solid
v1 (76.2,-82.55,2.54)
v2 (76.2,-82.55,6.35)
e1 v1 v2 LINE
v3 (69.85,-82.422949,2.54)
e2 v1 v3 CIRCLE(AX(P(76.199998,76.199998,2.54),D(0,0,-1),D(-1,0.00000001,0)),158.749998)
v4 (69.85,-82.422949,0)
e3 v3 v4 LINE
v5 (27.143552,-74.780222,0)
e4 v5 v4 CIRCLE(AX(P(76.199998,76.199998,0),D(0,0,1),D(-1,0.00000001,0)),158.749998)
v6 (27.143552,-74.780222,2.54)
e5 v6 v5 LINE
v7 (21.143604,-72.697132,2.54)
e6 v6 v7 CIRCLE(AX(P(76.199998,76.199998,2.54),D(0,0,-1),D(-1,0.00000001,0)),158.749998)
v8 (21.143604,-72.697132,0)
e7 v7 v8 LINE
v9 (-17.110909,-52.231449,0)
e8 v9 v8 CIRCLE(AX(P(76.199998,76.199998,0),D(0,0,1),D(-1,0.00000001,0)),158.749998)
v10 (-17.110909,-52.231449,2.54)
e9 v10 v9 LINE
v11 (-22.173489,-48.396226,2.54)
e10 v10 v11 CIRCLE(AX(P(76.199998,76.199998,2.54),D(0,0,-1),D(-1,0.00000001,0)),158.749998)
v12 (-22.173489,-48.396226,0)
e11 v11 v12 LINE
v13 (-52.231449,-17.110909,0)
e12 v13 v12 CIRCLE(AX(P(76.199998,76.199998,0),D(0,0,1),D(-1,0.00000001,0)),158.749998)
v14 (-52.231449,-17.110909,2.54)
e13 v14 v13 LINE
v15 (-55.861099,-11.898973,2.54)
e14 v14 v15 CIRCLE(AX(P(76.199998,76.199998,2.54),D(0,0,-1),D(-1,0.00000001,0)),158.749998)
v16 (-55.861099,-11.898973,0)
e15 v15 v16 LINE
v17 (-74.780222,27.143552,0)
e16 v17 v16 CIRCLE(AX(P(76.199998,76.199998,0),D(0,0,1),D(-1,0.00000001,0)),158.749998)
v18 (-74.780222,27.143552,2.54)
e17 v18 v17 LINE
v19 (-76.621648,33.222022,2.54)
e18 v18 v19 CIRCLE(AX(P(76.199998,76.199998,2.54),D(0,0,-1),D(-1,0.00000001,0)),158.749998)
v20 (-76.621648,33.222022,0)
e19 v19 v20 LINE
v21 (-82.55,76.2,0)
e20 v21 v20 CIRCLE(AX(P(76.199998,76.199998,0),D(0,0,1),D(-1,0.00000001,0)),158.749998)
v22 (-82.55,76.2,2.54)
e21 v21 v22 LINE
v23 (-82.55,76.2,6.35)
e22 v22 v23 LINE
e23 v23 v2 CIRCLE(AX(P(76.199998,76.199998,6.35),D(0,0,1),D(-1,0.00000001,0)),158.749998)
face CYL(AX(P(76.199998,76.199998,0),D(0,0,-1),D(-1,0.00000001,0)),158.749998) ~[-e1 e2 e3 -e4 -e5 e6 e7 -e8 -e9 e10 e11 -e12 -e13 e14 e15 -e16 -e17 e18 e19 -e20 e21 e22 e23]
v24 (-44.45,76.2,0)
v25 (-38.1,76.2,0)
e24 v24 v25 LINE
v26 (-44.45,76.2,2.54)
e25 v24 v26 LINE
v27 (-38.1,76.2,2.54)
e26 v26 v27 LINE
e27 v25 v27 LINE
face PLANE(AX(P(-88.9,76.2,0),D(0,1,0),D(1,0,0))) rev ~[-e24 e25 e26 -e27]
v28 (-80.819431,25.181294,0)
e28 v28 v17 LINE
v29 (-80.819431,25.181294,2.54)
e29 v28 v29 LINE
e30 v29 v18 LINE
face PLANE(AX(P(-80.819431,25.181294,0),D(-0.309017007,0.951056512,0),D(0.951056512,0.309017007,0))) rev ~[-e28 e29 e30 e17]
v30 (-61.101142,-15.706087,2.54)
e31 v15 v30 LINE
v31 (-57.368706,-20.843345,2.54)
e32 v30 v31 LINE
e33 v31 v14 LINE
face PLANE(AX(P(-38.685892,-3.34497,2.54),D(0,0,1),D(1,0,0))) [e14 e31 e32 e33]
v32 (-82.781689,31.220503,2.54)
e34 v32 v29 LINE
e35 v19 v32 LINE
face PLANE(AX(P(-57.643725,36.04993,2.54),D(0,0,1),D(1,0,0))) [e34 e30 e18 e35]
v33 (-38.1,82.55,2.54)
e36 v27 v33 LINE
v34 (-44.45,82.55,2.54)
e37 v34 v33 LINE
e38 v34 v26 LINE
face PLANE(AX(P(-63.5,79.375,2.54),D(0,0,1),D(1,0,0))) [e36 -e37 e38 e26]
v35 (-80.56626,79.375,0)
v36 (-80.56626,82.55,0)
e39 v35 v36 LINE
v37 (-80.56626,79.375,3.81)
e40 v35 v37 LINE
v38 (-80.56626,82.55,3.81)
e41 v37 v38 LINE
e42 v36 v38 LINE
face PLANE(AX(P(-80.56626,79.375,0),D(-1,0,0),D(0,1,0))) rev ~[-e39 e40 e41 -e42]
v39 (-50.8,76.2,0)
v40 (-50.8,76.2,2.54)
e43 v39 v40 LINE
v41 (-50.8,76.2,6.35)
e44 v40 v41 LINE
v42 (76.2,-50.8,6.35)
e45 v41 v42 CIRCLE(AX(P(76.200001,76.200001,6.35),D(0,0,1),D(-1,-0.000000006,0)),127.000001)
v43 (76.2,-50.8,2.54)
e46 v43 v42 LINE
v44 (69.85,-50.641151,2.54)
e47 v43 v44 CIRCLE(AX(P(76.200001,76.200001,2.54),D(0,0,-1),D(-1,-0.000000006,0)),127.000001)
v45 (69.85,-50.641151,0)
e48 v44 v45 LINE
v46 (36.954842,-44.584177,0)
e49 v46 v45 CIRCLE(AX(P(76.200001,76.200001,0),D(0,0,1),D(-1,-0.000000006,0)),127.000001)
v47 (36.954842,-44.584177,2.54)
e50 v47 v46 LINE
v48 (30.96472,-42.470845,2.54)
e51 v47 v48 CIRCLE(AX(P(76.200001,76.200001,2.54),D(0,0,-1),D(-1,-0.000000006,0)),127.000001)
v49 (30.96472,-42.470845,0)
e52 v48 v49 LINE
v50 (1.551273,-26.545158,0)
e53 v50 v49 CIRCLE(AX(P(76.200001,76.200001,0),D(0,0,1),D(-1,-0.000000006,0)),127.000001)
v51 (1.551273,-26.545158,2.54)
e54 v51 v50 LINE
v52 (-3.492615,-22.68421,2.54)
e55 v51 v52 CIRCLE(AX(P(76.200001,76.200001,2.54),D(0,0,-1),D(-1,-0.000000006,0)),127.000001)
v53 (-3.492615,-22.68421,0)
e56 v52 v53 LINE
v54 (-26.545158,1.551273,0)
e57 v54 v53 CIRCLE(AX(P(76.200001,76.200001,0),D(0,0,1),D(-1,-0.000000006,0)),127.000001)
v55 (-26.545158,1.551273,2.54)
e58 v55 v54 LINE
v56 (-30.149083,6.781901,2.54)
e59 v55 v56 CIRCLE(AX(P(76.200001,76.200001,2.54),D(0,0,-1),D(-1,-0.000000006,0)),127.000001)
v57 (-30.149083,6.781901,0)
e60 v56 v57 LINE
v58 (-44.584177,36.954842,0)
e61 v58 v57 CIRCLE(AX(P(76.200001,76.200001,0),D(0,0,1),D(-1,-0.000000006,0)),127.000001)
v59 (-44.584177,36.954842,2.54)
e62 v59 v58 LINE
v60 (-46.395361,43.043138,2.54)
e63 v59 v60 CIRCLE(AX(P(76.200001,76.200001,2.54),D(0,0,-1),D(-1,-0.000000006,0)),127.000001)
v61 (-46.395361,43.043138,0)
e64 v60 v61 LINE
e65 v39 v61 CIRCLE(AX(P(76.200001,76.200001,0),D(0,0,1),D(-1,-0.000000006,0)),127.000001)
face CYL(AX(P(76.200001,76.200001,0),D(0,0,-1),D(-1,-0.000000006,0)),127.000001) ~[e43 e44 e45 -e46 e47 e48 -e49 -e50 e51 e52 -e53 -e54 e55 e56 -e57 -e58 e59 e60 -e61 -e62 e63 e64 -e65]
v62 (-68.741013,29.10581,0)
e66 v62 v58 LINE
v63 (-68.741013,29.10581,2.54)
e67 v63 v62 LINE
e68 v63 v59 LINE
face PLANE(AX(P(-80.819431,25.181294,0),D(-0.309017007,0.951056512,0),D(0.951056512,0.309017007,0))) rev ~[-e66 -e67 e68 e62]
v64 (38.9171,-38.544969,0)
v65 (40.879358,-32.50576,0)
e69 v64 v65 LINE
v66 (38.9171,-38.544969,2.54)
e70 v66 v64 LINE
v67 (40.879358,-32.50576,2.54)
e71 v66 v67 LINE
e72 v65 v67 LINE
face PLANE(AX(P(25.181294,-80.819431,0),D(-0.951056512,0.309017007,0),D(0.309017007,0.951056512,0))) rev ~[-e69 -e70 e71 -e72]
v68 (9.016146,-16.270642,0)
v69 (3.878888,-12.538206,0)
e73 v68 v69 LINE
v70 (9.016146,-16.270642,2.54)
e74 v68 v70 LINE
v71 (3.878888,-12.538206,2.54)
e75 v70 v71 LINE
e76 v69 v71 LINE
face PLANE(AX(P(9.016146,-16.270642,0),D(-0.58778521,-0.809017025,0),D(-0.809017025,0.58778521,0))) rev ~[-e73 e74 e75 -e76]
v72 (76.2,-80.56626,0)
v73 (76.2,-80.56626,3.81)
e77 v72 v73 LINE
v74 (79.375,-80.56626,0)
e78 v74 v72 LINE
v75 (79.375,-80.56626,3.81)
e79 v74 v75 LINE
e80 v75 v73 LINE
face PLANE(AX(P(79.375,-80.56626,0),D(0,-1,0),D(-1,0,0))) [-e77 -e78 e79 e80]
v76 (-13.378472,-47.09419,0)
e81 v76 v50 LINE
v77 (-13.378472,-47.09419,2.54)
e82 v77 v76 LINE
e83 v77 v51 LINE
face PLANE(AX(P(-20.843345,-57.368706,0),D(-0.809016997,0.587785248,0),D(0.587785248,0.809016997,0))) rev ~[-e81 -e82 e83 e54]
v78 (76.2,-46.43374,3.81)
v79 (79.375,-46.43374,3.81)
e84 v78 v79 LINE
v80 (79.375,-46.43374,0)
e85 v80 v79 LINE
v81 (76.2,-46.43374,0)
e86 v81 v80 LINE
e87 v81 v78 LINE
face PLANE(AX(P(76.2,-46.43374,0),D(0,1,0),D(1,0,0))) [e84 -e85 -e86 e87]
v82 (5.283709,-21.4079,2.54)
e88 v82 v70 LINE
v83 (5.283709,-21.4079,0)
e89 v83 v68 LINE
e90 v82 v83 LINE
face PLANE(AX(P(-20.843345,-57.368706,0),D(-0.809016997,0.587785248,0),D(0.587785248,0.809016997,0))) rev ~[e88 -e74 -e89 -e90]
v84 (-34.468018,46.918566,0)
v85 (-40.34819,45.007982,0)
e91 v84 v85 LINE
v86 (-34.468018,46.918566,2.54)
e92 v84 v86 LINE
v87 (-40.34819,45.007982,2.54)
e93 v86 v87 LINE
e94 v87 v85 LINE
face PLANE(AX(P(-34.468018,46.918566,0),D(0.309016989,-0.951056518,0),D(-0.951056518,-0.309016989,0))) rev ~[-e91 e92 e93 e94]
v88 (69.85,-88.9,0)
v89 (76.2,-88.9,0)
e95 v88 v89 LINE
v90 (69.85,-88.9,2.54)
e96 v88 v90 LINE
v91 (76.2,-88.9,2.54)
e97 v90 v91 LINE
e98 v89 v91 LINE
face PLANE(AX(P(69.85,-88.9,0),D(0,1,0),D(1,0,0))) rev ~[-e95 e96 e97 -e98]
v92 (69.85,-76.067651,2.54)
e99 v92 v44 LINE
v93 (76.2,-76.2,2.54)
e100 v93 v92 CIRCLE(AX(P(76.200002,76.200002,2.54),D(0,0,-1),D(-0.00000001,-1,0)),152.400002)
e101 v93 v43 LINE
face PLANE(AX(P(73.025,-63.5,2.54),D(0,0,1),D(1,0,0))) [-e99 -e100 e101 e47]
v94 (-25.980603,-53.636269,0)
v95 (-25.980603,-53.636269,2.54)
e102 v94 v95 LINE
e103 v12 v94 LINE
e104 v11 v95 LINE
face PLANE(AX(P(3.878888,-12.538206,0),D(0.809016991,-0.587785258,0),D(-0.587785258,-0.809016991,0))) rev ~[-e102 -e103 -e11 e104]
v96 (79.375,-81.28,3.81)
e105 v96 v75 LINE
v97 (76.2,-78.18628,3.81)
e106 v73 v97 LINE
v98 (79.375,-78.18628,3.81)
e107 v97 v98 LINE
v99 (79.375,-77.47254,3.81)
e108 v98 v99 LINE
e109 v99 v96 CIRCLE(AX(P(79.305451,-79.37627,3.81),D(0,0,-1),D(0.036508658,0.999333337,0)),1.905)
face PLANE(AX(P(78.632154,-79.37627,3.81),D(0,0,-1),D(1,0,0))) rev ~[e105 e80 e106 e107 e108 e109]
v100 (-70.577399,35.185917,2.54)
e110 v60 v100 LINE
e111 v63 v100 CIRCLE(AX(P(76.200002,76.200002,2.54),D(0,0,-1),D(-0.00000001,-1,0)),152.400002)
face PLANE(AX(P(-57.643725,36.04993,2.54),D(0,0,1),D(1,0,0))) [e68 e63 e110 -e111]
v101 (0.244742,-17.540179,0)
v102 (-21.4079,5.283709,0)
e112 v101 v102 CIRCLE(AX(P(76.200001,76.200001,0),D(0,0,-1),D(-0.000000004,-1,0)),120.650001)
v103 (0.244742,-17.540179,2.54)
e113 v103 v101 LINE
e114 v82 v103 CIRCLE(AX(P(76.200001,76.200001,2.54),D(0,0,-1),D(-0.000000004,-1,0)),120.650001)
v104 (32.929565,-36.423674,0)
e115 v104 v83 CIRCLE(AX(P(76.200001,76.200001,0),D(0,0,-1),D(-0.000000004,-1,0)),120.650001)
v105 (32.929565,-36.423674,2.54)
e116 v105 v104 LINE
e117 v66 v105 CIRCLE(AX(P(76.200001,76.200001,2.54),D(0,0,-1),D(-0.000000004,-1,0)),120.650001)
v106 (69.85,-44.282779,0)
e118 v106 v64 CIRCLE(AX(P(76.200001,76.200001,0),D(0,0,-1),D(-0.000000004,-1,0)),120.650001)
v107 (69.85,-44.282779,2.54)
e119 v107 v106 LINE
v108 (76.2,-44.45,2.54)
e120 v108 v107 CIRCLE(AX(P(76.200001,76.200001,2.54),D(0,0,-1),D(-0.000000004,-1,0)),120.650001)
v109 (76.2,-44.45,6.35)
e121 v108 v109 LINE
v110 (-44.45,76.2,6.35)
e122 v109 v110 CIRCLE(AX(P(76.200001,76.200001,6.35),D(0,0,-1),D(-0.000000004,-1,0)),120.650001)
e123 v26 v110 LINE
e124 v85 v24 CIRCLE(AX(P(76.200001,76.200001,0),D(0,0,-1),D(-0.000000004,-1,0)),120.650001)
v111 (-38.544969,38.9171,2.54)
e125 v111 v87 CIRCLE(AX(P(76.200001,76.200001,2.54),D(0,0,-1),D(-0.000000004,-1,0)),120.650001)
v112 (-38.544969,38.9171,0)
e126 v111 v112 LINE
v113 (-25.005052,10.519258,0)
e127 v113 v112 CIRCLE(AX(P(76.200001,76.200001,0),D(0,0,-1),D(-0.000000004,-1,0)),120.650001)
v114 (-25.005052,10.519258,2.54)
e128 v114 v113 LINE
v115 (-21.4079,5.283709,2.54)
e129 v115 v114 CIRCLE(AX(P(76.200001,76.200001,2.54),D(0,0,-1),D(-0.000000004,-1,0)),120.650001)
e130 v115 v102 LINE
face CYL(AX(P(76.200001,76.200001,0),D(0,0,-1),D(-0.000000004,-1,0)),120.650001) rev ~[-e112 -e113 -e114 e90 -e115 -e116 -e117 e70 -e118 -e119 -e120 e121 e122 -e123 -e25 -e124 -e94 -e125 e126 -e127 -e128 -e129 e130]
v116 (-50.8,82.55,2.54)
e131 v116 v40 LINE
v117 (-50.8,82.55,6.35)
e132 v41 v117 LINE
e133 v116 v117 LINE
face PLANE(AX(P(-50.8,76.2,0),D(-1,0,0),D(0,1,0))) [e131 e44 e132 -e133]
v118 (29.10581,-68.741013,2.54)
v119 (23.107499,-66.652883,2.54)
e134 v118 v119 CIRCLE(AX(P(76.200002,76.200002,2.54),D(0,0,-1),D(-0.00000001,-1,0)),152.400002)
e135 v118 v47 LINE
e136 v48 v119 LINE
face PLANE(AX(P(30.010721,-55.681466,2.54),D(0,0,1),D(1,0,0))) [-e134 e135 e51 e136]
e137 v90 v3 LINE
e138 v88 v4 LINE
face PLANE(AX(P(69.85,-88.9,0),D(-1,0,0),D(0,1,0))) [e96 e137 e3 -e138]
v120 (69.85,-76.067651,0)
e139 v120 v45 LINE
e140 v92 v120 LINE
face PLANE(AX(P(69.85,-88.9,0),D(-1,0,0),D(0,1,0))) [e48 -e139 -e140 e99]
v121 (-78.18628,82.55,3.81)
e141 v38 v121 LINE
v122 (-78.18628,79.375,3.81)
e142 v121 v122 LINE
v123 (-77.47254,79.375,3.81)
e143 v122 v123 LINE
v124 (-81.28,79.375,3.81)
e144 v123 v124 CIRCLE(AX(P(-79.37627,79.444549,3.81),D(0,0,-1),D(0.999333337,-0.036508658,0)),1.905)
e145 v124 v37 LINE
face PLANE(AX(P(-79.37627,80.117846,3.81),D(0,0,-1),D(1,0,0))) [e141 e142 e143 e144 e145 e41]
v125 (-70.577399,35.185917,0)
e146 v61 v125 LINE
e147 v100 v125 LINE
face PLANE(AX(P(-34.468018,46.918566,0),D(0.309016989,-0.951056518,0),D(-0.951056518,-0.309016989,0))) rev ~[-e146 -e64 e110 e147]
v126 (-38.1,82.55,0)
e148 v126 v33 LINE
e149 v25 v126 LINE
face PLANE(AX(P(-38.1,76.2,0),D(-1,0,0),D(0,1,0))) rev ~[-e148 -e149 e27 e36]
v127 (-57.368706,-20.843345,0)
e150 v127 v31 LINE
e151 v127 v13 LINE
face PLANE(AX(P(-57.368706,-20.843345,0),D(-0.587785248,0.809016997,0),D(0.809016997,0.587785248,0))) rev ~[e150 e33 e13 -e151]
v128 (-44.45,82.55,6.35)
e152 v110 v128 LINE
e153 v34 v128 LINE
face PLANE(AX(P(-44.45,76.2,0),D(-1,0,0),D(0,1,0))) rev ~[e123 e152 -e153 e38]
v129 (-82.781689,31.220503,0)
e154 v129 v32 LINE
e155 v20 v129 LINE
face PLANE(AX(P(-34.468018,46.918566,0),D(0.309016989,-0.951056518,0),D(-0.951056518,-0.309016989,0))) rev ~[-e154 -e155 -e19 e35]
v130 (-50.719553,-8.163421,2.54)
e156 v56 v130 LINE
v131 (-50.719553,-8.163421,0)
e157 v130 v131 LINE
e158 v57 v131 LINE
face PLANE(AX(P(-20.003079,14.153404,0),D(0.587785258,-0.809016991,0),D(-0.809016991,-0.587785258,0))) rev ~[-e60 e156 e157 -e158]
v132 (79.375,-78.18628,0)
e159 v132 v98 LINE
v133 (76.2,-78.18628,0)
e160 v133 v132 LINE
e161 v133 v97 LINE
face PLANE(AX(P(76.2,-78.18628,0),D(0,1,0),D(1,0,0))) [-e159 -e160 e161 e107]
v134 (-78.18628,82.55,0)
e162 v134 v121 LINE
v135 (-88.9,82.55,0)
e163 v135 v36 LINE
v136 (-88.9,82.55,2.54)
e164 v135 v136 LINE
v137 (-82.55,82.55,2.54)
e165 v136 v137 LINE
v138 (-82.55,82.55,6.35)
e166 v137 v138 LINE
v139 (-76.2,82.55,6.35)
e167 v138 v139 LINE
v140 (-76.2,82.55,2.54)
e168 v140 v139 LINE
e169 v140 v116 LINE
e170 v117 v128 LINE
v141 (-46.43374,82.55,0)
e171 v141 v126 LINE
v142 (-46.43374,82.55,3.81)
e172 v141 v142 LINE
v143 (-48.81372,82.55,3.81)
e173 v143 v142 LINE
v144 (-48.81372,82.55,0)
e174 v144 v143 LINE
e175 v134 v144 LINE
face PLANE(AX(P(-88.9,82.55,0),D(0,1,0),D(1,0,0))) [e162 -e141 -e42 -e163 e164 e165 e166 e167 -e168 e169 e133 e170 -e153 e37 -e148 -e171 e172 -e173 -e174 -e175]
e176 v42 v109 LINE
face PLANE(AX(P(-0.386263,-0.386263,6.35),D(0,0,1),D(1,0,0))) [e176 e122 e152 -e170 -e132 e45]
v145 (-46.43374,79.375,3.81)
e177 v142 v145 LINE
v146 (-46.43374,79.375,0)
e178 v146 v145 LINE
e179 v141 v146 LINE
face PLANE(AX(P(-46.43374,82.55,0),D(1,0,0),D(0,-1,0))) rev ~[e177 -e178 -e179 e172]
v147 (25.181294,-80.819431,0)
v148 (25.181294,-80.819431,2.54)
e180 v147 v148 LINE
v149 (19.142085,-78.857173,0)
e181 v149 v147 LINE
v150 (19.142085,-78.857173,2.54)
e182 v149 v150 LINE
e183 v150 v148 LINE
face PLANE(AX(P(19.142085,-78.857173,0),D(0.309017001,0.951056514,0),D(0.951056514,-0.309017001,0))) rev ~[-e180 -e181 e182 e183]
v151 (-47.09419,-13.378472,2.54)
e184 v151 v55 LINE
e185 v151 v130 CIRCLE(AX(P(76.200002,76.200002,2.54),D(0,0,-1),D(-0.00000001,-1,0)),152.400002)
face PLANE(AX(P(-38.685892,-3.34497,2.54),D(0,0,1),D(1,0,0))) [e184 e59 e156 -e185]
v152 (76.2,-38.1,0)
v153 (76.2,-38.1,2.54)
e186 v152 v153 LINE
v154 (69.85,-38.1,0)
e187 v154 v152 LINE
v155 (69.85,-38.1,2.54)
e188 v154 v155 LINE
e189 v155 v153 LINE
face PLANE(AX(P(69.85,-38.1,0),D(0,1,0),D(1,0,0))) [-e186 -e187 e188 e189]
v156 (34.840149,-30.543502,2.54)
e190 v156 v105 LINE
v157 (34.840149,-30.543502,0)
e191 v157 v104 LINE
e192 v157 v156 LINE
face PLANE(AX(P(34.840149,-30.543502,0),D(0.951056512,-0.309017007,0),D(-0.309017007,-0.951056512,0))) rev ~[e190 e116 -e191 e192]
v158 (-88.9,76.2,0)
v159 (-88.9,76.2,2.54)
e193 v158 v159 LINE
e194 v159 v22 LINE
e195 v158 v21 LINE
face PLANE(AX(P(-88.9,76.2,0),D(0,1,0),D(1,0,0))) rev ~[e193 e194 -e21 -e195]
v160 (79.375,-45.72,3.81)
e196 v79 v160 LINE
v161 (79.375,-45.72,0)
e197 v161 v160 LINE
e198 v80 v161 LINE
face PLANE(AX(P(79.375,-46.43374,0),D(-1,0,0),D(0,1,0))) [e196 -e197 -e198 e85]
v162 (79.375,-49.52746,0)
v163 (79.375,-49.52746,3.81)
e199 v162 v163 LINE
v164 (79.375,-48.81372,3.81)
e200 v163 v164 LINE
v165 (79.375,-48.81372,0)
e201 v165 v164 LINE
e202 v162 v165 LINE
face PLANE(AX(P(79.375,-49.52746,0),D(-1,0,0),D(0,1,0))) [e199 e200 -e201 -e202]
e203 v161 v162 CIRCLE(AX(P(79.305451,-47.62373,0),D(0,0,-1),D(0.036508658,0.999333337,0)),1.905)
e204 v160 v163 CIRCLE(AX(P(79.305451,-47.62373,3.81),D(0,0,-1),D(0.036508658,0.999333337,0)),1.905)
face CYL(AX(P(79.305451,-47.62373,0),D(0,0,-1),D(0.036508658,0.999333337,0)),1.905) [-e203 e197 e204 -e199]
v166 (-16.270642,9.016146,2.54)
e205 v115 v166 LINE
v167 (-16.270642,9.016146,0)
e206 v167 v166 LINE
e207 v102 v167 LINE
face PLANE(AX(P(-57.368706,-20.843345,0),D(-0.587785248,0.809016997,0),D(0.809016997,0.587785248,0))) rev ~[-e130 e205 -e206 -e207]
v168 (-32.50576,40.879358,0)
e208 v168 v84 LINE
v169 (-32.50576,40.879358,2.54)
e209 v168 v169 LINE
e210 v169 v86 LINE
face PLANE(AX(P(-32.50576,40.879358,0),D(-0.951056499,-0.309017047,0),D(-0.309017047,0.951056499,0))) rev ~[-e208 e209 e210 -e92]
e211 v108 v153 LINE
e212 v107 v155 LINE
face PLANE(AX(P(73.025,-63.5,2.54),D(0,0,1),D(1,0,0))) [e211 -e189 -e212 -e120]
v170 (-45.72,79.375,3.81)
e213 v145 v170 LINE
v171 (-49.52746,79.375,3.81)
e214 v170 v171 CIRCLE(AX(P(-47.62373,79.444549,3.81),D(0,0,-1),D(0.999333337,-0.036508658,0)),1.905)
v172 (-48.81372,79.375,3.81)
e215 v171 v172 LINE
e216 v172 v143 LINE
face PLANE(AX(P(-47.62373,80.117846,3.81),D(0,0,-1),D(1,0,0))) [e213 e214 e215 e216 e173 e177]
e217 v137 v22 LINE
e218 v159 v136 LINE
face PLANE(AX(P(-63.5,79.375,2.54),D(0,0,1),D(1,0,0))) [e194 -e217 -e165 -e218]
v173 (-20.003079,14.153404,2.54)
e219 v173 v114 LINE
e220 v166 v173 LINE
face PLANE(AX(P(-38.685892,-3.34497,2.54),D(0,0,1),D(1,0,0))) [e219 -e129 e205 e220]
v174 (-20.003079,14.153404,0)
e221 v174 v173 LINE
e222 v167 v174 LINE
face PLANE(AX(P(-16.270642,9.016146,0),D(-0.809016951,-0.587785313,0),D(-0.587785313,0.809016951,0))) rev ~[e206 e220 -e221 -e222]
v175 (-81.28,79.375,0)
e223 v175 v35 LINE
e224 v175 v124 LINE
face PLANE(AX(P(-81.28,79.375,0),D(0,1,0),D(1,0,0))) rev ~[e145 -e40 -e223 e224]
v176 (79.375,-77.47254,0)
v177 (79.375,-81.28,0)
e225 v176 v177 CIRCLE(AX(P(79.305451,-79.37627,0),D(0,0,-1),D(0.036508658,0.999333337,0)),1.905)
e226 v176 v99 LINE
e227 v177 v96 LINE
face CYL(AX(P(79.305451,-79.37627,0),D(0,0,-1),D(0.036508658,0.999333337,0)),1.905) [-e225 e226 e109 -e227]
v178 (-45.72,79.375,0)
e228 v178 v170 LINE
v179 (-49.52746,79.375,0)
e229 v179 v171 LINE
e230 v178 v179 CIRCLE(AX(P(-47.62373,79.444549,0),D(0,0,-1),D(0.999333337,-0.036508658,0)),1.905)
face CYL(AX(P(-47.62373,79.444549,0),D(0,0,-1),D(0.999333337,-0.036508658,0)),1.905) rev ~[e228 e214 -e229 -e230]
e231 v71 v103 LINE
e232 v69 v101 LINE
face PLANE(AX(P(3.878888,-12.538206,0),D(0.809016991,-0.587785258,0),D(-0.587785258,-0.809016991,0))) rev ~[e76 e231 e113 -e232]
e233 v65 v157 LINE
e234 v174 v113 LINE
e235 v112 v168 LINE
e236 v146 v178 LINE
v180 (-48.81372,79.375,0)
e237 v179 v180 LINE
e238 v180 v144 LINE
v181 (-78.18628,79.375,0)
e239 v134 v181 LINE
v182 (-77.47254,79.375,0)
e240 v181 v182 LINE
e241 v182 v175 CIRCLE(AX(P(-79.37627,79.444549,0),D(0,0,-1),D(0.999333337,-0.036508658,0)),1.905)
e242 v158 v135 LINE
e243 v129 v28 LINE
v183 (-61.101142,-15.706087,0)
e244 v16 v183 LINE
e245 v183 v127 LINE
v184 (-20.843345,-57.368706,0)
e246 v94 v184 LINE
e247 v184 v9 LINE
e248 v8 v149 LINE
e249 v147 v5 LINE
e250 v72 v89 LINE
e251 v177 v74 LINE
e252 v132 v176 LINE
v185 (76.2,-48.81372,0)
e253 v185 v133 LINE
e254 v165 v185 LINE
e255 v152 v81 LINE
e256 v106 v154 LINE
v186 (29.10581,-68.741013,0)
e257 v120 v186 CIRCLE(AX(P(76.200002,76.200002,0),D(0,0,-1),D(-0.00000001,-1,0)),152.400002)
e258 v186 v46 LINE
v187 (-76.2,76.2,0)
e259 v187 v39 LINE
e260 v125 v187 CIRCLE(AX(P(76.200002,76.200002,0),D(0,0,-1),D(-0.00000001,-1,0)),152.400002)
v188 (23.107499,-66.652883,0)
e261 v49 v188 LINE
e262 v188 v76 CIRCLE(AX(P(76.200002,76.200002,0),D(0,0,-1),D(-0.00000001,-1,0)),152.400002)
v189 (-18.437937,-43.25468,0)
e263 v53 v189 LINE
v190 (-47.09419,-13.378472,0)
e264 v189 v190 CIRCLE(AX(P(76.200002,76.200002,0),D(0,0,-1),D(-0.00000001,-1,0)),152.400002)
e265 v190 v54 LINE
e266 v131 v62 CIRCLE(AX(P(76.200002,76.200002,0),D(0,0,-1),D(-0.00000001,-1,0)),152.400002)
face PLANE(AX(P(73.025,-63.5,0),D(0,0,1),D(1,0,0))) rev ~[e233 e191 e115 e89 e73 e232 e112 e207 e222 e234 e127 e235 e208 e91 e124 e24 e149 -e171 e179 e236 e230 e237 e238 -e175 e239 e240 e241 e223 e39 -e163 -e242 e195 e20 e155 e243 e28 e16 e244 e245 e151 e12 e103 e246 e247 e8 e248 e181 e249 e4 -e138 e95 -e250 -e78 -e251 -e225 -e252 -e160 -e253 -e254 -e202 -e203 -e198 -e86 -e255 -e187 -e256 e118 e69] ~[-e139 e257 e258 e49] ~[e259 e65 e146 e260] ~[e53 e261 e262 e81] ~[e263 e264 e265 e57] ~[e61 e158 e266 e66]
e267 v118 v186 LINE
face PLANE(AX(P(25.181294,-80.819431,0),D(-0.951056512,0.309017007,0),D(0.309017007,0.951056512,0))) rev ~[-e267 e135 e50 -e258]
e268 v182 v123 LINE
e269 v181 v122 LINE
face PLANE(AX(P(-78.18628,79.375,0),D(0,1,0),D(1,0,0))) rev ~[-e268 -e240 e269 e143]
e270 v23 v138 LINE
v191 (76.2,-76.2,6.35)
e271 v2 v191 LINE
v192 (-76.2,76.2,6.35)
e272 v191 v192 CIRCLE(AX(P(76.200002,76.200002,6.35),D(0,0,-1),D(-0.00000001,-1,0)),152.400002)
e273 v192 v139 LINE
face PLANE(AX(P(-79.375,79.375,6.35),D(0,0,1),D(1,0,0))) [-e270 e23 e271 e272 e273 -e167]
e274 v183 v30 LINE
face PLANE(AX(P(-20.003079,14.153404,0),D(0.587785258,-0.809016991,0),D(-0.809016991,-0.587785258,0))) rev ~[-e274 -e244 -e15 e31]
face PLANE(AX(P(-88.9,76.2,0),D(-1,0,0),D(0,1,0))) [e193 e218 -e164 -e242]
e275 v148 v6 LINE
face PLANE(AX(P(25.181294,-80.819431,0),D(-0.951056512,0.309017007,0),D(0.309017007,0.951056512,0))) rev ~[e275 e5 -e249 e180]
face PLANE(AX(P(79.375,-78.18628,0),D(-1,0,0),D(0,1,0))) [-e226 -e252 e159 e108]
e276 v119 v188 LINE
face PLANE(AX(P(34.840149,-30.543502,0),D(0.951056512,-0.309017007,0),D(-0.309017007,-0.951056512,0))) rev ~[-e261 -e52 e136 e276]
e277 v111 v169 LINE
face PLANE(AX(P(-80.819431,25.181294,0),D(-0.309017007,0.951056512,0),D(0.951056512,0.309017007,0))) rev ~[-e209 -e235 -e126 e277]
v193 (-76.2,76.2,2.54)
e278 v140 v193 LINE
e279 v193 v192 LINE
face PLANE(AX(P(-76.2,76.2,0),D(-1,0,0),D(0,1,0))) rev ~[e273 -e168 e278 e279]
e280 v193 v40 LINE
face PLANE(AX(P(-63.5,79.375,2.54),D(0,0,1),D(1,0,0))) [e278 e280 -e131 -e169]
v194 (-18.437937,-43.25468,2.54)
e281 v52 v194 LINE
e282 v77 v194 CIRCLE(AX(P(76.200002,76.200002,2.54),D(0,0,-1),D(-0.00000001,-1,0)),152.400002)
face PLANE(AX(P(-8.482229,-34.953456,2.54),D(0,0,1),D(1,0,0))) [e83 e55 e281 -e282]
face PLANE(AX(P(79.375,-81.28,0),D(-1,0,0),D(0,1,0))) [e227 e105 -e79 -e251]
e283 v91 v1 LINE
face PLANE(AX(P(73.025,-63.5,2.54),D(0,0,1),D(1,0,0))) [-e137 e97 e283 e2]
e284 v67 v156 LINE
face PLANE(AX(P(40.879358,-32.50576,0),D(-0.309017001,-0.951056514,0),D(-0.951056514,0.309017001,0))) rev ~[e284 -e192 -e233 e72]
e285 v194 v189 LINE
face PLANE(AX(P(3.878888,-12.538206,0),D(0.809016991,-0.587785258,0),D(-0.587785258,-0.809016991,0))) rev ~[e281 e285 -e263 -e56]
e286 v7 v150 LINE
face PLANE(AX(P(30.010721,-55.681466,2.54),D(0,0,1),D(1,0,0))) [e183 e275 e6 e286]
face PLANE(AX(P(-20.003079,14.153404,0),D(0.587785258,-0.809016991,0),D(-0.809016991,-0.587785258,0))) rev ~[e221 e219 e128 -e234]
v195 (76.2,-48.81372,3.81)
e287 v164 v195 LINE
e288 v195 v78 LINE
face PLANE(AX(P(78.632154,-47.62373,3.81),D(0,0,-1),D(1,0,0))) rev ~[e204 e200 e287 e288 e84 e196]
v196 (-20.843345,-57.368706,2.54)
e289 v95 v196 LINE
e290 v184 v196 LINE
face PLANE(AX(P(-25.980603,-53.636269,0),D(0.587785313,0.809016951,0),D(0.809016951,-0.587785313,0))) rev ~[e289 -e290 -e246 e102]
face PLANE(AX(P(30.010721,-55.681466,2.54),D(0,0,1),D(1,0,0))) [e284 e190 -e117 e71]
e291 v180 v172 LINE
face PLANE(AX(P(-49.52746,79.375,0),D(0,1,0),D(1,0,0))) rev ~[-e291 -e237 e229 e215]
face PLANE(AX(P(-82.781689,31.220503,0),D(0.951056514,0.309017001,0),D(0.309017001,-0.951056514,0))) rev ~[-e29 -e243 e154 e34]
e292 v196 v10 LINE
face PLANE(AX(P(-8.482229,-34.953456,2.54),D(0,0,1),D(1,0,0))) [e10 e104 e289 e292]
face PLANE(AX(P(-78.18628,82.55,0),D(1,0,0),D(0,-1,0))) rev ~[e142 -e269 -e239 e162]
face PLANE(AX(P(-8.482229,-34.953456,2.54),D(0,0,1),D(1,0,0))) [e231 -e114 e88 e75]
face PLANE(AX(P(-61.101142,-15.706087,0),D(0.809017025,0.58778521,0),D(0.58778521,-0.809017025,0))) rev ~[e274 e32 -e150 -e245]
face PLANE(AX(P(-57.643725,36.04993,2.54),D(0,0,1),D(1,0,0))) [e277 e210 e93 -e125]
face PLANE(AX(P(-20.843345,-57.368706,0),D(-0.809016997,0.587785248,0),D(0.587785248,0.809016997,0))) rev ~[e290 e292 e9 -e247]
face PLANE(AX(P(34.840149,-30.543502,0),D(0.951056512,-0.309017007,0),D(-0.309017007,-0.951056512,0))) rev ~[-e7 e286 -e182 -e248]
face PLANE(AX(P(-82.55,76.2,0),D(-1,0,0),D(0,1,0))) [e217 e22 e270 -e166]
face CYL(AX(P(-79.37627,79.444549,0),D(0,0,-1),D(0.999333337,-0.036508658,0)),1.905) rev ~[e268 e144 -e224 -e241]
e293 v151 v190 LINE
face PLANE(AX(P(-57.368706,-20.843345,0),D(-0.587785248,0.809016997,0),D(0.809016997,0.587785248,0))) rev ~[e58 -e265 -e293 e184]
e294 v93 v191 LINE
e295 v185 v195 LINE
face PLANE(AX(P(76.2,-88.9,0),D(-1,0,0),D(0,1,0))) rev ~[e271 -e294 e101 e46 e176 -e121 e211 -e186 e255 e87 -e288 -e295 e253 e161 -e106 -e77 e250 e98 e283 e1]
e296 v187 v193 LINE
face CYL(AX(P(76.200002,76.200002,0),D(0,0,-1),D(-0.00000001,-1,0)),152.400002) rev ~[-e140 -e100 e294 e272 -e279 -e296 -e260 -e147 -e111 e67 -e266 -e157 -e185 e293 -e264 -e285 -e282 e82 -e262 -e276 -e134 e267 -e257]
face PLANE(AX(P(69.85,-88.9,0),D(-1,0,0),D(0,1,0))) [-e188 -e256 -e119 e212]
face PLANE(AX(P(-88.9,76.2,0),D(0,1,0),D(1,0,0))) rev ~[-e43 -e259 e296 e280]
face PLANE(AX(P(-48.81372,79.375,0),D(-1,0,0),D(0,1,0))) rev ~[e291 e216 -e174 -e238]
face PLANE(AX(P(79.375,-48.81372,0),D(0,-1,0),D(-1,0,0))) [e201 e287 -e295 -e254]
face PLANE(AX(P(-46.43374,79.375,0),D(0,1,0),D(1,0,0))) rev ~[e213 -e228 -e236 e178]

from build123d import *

# Parameters (mm, degrees)
F1_DEPTH = 6.35
F2_W     = 6.35
F2_H     = 50.8
F2_W_2   = 50.8
F2_H_2   = 6.35
F3_DEPTH = 2.54
F4_W     = 6.35
F4_H     = 6.35
F5_DEPTH = 6.35
F7_DEPTH = 3.81
F9_DEPTH = 3.81


with BuildPart() as f1:
    # F0 (on Top) → F1 (new body)
    with BuildSketch(Plane.XY):
        with BuildLine():
            Line((76.2, -82.55), (76.2, -76.2))
            ThreePointArc((76.2, -76.2), (-31.563073, -31.563073), (-76.2, 76.2))
            Line((-76.2, 76.2), (-82.55, 76.2))
            ThreePointArc((-82.55, 76.2), (-36.053202, -36.053202), (76.2, -82.55))
        make_face()
        with BuildLine():
            ThreePointArc((-50.8, 76.2), (-13.602561, -13.602561), (76.2, -50.8))
            Line((76.2, -50.8), (76.2, -44.45))
            ThreePointArc((76.2, -44.45), (-9.112433, -9.112433), (-44.45, 76.2))
            Line((-44.45, 76.2), (-50.8, 76.2))
        make_face()
    extrude(amount=F1_DEPTH)

    # F2 (on Top) → F3 (join)
    with BuildSketch(Plane.XY):
        with Locations((73.025, -63.5)):
            Rectangle(F2_W, F2_H)
        Polygon((25.181294, -80.819431), (40.879358, -32.50576), (34.840149, -30.543502), (19.142085, -78.857173), align=None)
        Polygon((-20.843345, -57.368706), (9.016146, -16.270642), (3.878888, -12.538206), (-25.980603, -53.636269), align=None)
        Polygon((-57.368706, -20.843345), (-16.270642, 9.016146), (-20.003079, 14.153404), (-61.101142, -15.706087), align=None)
        Polygon((-80.819431, 25.181294), (-32.50576, 40.879358), (-34.468018, 46.918566), (-82.781689, 31.220503), align=None)
        with Locations((-63.5, 79.375)):
            Rectangle(F2_W_2, F2_H_2)
    extrude(amount=F3_DEPTH)

    # F4 (on Top) → F5 (join)
    with BuildSketch(Plane.XY):
        with Locations((-79.375, 79.375)):
            Rectangle(F4_W, F4_H)
        with Locations((-47.625, 79.375)):
            Rectangle(F4_W, F4_H)
    extrude(amount=F5_DEPTH)

    # F6 (on face) → F7 (join)
    with BuildSketch(Plane(origin=(0, 0, 0), x_dir=(1, 0, 0), z_dir=(0, 0, -1))):
        with BuildLine():
            Line((76.2, 80.56626), (76.2, 79.37627))
            Line((76.2, 79.37627), (76.2, 78.18628))
            Line((76.2, 78.18628), (79.375, 78.18628))
            Line((79.375, 78.18628), (79.375, 77.47254))
            ThreePointArc((79.375, 77.47254), (81.210451, 79.37627), (79.375, 81.28))
            Line((79.375, 81.28), (79.375, 80.56626))
            Line((79.375, 80.56626), (76.2, 80.56626))
        make_face()
        with BuildLine():
            Line((76.2, 47.62373), (76.2, 46.43374))
            Line((76.2, 46.43374), (79.375, 46.43374))
            Line((79.375, 46.43374), (79.375, 45.72))
            ThreePointArc((79.375, 45.72), (81.210451, 47.62373), (79.375, 49.52746))
            Line((79.375, 49.52746), (79.375, 48.81372))
            Line((79.375, 48.81372), (76.2, 48.81372))
            Line((76.2, 48.81372), (76.2, 47.62373))
        make_face()
    extrude(amount=-F7_DEPTH)

    # F8 (on face) → F9 (cut)
    with BuildSketch(Plane(origin=(0, 0, 0), x_dir=(1, 0, 0), z_dir=(0, 0, -1))):
        with BuildLine():
            Line((-80.56626, -82.55), (-79.37627, -82.55))
            Line((-79.37627, -82.55), (-78.18628, -82.55))
            Line((-78.18628, -82.55), (-78.18628, -79.375))
            Line((-78.18628, -79.375), (-77.47254, -79.375))
            ThreePointArc((-77.47254, -79.375), (-79.37627, -77.539549), (-81.28, -79.375))
            Line((-81.28, -79.375), (-80.56626, -79.375))
            Line((-80.56626, -79.375), (-80.56626, -82.55))
        make_face()
        with BuildLine():
            Line((-49.52746, -79.375), (-48.81372, -79.375))
            Line((-48.81372, -79.375), (-48.81372, -82.55))
            Line((-48.81372, -82.55), (-47.62373, -82.55))
            Line((-47.62373, -82.55), (-46.43374, -82.55))
            Line((-46.43374, -82.55), (-46.43374, -79.375))
            Line((-46.43374, -79.375), (-45.72, -79.375))
            ThreePointArc((-45.72, -79.375), (-47.62373, -77.539549), (-49.52746, -79.375))
        make_face()
    extrude(amount=-F9_DEPTH, mode=Mode.SUBTRACT)


solid = f1.part
